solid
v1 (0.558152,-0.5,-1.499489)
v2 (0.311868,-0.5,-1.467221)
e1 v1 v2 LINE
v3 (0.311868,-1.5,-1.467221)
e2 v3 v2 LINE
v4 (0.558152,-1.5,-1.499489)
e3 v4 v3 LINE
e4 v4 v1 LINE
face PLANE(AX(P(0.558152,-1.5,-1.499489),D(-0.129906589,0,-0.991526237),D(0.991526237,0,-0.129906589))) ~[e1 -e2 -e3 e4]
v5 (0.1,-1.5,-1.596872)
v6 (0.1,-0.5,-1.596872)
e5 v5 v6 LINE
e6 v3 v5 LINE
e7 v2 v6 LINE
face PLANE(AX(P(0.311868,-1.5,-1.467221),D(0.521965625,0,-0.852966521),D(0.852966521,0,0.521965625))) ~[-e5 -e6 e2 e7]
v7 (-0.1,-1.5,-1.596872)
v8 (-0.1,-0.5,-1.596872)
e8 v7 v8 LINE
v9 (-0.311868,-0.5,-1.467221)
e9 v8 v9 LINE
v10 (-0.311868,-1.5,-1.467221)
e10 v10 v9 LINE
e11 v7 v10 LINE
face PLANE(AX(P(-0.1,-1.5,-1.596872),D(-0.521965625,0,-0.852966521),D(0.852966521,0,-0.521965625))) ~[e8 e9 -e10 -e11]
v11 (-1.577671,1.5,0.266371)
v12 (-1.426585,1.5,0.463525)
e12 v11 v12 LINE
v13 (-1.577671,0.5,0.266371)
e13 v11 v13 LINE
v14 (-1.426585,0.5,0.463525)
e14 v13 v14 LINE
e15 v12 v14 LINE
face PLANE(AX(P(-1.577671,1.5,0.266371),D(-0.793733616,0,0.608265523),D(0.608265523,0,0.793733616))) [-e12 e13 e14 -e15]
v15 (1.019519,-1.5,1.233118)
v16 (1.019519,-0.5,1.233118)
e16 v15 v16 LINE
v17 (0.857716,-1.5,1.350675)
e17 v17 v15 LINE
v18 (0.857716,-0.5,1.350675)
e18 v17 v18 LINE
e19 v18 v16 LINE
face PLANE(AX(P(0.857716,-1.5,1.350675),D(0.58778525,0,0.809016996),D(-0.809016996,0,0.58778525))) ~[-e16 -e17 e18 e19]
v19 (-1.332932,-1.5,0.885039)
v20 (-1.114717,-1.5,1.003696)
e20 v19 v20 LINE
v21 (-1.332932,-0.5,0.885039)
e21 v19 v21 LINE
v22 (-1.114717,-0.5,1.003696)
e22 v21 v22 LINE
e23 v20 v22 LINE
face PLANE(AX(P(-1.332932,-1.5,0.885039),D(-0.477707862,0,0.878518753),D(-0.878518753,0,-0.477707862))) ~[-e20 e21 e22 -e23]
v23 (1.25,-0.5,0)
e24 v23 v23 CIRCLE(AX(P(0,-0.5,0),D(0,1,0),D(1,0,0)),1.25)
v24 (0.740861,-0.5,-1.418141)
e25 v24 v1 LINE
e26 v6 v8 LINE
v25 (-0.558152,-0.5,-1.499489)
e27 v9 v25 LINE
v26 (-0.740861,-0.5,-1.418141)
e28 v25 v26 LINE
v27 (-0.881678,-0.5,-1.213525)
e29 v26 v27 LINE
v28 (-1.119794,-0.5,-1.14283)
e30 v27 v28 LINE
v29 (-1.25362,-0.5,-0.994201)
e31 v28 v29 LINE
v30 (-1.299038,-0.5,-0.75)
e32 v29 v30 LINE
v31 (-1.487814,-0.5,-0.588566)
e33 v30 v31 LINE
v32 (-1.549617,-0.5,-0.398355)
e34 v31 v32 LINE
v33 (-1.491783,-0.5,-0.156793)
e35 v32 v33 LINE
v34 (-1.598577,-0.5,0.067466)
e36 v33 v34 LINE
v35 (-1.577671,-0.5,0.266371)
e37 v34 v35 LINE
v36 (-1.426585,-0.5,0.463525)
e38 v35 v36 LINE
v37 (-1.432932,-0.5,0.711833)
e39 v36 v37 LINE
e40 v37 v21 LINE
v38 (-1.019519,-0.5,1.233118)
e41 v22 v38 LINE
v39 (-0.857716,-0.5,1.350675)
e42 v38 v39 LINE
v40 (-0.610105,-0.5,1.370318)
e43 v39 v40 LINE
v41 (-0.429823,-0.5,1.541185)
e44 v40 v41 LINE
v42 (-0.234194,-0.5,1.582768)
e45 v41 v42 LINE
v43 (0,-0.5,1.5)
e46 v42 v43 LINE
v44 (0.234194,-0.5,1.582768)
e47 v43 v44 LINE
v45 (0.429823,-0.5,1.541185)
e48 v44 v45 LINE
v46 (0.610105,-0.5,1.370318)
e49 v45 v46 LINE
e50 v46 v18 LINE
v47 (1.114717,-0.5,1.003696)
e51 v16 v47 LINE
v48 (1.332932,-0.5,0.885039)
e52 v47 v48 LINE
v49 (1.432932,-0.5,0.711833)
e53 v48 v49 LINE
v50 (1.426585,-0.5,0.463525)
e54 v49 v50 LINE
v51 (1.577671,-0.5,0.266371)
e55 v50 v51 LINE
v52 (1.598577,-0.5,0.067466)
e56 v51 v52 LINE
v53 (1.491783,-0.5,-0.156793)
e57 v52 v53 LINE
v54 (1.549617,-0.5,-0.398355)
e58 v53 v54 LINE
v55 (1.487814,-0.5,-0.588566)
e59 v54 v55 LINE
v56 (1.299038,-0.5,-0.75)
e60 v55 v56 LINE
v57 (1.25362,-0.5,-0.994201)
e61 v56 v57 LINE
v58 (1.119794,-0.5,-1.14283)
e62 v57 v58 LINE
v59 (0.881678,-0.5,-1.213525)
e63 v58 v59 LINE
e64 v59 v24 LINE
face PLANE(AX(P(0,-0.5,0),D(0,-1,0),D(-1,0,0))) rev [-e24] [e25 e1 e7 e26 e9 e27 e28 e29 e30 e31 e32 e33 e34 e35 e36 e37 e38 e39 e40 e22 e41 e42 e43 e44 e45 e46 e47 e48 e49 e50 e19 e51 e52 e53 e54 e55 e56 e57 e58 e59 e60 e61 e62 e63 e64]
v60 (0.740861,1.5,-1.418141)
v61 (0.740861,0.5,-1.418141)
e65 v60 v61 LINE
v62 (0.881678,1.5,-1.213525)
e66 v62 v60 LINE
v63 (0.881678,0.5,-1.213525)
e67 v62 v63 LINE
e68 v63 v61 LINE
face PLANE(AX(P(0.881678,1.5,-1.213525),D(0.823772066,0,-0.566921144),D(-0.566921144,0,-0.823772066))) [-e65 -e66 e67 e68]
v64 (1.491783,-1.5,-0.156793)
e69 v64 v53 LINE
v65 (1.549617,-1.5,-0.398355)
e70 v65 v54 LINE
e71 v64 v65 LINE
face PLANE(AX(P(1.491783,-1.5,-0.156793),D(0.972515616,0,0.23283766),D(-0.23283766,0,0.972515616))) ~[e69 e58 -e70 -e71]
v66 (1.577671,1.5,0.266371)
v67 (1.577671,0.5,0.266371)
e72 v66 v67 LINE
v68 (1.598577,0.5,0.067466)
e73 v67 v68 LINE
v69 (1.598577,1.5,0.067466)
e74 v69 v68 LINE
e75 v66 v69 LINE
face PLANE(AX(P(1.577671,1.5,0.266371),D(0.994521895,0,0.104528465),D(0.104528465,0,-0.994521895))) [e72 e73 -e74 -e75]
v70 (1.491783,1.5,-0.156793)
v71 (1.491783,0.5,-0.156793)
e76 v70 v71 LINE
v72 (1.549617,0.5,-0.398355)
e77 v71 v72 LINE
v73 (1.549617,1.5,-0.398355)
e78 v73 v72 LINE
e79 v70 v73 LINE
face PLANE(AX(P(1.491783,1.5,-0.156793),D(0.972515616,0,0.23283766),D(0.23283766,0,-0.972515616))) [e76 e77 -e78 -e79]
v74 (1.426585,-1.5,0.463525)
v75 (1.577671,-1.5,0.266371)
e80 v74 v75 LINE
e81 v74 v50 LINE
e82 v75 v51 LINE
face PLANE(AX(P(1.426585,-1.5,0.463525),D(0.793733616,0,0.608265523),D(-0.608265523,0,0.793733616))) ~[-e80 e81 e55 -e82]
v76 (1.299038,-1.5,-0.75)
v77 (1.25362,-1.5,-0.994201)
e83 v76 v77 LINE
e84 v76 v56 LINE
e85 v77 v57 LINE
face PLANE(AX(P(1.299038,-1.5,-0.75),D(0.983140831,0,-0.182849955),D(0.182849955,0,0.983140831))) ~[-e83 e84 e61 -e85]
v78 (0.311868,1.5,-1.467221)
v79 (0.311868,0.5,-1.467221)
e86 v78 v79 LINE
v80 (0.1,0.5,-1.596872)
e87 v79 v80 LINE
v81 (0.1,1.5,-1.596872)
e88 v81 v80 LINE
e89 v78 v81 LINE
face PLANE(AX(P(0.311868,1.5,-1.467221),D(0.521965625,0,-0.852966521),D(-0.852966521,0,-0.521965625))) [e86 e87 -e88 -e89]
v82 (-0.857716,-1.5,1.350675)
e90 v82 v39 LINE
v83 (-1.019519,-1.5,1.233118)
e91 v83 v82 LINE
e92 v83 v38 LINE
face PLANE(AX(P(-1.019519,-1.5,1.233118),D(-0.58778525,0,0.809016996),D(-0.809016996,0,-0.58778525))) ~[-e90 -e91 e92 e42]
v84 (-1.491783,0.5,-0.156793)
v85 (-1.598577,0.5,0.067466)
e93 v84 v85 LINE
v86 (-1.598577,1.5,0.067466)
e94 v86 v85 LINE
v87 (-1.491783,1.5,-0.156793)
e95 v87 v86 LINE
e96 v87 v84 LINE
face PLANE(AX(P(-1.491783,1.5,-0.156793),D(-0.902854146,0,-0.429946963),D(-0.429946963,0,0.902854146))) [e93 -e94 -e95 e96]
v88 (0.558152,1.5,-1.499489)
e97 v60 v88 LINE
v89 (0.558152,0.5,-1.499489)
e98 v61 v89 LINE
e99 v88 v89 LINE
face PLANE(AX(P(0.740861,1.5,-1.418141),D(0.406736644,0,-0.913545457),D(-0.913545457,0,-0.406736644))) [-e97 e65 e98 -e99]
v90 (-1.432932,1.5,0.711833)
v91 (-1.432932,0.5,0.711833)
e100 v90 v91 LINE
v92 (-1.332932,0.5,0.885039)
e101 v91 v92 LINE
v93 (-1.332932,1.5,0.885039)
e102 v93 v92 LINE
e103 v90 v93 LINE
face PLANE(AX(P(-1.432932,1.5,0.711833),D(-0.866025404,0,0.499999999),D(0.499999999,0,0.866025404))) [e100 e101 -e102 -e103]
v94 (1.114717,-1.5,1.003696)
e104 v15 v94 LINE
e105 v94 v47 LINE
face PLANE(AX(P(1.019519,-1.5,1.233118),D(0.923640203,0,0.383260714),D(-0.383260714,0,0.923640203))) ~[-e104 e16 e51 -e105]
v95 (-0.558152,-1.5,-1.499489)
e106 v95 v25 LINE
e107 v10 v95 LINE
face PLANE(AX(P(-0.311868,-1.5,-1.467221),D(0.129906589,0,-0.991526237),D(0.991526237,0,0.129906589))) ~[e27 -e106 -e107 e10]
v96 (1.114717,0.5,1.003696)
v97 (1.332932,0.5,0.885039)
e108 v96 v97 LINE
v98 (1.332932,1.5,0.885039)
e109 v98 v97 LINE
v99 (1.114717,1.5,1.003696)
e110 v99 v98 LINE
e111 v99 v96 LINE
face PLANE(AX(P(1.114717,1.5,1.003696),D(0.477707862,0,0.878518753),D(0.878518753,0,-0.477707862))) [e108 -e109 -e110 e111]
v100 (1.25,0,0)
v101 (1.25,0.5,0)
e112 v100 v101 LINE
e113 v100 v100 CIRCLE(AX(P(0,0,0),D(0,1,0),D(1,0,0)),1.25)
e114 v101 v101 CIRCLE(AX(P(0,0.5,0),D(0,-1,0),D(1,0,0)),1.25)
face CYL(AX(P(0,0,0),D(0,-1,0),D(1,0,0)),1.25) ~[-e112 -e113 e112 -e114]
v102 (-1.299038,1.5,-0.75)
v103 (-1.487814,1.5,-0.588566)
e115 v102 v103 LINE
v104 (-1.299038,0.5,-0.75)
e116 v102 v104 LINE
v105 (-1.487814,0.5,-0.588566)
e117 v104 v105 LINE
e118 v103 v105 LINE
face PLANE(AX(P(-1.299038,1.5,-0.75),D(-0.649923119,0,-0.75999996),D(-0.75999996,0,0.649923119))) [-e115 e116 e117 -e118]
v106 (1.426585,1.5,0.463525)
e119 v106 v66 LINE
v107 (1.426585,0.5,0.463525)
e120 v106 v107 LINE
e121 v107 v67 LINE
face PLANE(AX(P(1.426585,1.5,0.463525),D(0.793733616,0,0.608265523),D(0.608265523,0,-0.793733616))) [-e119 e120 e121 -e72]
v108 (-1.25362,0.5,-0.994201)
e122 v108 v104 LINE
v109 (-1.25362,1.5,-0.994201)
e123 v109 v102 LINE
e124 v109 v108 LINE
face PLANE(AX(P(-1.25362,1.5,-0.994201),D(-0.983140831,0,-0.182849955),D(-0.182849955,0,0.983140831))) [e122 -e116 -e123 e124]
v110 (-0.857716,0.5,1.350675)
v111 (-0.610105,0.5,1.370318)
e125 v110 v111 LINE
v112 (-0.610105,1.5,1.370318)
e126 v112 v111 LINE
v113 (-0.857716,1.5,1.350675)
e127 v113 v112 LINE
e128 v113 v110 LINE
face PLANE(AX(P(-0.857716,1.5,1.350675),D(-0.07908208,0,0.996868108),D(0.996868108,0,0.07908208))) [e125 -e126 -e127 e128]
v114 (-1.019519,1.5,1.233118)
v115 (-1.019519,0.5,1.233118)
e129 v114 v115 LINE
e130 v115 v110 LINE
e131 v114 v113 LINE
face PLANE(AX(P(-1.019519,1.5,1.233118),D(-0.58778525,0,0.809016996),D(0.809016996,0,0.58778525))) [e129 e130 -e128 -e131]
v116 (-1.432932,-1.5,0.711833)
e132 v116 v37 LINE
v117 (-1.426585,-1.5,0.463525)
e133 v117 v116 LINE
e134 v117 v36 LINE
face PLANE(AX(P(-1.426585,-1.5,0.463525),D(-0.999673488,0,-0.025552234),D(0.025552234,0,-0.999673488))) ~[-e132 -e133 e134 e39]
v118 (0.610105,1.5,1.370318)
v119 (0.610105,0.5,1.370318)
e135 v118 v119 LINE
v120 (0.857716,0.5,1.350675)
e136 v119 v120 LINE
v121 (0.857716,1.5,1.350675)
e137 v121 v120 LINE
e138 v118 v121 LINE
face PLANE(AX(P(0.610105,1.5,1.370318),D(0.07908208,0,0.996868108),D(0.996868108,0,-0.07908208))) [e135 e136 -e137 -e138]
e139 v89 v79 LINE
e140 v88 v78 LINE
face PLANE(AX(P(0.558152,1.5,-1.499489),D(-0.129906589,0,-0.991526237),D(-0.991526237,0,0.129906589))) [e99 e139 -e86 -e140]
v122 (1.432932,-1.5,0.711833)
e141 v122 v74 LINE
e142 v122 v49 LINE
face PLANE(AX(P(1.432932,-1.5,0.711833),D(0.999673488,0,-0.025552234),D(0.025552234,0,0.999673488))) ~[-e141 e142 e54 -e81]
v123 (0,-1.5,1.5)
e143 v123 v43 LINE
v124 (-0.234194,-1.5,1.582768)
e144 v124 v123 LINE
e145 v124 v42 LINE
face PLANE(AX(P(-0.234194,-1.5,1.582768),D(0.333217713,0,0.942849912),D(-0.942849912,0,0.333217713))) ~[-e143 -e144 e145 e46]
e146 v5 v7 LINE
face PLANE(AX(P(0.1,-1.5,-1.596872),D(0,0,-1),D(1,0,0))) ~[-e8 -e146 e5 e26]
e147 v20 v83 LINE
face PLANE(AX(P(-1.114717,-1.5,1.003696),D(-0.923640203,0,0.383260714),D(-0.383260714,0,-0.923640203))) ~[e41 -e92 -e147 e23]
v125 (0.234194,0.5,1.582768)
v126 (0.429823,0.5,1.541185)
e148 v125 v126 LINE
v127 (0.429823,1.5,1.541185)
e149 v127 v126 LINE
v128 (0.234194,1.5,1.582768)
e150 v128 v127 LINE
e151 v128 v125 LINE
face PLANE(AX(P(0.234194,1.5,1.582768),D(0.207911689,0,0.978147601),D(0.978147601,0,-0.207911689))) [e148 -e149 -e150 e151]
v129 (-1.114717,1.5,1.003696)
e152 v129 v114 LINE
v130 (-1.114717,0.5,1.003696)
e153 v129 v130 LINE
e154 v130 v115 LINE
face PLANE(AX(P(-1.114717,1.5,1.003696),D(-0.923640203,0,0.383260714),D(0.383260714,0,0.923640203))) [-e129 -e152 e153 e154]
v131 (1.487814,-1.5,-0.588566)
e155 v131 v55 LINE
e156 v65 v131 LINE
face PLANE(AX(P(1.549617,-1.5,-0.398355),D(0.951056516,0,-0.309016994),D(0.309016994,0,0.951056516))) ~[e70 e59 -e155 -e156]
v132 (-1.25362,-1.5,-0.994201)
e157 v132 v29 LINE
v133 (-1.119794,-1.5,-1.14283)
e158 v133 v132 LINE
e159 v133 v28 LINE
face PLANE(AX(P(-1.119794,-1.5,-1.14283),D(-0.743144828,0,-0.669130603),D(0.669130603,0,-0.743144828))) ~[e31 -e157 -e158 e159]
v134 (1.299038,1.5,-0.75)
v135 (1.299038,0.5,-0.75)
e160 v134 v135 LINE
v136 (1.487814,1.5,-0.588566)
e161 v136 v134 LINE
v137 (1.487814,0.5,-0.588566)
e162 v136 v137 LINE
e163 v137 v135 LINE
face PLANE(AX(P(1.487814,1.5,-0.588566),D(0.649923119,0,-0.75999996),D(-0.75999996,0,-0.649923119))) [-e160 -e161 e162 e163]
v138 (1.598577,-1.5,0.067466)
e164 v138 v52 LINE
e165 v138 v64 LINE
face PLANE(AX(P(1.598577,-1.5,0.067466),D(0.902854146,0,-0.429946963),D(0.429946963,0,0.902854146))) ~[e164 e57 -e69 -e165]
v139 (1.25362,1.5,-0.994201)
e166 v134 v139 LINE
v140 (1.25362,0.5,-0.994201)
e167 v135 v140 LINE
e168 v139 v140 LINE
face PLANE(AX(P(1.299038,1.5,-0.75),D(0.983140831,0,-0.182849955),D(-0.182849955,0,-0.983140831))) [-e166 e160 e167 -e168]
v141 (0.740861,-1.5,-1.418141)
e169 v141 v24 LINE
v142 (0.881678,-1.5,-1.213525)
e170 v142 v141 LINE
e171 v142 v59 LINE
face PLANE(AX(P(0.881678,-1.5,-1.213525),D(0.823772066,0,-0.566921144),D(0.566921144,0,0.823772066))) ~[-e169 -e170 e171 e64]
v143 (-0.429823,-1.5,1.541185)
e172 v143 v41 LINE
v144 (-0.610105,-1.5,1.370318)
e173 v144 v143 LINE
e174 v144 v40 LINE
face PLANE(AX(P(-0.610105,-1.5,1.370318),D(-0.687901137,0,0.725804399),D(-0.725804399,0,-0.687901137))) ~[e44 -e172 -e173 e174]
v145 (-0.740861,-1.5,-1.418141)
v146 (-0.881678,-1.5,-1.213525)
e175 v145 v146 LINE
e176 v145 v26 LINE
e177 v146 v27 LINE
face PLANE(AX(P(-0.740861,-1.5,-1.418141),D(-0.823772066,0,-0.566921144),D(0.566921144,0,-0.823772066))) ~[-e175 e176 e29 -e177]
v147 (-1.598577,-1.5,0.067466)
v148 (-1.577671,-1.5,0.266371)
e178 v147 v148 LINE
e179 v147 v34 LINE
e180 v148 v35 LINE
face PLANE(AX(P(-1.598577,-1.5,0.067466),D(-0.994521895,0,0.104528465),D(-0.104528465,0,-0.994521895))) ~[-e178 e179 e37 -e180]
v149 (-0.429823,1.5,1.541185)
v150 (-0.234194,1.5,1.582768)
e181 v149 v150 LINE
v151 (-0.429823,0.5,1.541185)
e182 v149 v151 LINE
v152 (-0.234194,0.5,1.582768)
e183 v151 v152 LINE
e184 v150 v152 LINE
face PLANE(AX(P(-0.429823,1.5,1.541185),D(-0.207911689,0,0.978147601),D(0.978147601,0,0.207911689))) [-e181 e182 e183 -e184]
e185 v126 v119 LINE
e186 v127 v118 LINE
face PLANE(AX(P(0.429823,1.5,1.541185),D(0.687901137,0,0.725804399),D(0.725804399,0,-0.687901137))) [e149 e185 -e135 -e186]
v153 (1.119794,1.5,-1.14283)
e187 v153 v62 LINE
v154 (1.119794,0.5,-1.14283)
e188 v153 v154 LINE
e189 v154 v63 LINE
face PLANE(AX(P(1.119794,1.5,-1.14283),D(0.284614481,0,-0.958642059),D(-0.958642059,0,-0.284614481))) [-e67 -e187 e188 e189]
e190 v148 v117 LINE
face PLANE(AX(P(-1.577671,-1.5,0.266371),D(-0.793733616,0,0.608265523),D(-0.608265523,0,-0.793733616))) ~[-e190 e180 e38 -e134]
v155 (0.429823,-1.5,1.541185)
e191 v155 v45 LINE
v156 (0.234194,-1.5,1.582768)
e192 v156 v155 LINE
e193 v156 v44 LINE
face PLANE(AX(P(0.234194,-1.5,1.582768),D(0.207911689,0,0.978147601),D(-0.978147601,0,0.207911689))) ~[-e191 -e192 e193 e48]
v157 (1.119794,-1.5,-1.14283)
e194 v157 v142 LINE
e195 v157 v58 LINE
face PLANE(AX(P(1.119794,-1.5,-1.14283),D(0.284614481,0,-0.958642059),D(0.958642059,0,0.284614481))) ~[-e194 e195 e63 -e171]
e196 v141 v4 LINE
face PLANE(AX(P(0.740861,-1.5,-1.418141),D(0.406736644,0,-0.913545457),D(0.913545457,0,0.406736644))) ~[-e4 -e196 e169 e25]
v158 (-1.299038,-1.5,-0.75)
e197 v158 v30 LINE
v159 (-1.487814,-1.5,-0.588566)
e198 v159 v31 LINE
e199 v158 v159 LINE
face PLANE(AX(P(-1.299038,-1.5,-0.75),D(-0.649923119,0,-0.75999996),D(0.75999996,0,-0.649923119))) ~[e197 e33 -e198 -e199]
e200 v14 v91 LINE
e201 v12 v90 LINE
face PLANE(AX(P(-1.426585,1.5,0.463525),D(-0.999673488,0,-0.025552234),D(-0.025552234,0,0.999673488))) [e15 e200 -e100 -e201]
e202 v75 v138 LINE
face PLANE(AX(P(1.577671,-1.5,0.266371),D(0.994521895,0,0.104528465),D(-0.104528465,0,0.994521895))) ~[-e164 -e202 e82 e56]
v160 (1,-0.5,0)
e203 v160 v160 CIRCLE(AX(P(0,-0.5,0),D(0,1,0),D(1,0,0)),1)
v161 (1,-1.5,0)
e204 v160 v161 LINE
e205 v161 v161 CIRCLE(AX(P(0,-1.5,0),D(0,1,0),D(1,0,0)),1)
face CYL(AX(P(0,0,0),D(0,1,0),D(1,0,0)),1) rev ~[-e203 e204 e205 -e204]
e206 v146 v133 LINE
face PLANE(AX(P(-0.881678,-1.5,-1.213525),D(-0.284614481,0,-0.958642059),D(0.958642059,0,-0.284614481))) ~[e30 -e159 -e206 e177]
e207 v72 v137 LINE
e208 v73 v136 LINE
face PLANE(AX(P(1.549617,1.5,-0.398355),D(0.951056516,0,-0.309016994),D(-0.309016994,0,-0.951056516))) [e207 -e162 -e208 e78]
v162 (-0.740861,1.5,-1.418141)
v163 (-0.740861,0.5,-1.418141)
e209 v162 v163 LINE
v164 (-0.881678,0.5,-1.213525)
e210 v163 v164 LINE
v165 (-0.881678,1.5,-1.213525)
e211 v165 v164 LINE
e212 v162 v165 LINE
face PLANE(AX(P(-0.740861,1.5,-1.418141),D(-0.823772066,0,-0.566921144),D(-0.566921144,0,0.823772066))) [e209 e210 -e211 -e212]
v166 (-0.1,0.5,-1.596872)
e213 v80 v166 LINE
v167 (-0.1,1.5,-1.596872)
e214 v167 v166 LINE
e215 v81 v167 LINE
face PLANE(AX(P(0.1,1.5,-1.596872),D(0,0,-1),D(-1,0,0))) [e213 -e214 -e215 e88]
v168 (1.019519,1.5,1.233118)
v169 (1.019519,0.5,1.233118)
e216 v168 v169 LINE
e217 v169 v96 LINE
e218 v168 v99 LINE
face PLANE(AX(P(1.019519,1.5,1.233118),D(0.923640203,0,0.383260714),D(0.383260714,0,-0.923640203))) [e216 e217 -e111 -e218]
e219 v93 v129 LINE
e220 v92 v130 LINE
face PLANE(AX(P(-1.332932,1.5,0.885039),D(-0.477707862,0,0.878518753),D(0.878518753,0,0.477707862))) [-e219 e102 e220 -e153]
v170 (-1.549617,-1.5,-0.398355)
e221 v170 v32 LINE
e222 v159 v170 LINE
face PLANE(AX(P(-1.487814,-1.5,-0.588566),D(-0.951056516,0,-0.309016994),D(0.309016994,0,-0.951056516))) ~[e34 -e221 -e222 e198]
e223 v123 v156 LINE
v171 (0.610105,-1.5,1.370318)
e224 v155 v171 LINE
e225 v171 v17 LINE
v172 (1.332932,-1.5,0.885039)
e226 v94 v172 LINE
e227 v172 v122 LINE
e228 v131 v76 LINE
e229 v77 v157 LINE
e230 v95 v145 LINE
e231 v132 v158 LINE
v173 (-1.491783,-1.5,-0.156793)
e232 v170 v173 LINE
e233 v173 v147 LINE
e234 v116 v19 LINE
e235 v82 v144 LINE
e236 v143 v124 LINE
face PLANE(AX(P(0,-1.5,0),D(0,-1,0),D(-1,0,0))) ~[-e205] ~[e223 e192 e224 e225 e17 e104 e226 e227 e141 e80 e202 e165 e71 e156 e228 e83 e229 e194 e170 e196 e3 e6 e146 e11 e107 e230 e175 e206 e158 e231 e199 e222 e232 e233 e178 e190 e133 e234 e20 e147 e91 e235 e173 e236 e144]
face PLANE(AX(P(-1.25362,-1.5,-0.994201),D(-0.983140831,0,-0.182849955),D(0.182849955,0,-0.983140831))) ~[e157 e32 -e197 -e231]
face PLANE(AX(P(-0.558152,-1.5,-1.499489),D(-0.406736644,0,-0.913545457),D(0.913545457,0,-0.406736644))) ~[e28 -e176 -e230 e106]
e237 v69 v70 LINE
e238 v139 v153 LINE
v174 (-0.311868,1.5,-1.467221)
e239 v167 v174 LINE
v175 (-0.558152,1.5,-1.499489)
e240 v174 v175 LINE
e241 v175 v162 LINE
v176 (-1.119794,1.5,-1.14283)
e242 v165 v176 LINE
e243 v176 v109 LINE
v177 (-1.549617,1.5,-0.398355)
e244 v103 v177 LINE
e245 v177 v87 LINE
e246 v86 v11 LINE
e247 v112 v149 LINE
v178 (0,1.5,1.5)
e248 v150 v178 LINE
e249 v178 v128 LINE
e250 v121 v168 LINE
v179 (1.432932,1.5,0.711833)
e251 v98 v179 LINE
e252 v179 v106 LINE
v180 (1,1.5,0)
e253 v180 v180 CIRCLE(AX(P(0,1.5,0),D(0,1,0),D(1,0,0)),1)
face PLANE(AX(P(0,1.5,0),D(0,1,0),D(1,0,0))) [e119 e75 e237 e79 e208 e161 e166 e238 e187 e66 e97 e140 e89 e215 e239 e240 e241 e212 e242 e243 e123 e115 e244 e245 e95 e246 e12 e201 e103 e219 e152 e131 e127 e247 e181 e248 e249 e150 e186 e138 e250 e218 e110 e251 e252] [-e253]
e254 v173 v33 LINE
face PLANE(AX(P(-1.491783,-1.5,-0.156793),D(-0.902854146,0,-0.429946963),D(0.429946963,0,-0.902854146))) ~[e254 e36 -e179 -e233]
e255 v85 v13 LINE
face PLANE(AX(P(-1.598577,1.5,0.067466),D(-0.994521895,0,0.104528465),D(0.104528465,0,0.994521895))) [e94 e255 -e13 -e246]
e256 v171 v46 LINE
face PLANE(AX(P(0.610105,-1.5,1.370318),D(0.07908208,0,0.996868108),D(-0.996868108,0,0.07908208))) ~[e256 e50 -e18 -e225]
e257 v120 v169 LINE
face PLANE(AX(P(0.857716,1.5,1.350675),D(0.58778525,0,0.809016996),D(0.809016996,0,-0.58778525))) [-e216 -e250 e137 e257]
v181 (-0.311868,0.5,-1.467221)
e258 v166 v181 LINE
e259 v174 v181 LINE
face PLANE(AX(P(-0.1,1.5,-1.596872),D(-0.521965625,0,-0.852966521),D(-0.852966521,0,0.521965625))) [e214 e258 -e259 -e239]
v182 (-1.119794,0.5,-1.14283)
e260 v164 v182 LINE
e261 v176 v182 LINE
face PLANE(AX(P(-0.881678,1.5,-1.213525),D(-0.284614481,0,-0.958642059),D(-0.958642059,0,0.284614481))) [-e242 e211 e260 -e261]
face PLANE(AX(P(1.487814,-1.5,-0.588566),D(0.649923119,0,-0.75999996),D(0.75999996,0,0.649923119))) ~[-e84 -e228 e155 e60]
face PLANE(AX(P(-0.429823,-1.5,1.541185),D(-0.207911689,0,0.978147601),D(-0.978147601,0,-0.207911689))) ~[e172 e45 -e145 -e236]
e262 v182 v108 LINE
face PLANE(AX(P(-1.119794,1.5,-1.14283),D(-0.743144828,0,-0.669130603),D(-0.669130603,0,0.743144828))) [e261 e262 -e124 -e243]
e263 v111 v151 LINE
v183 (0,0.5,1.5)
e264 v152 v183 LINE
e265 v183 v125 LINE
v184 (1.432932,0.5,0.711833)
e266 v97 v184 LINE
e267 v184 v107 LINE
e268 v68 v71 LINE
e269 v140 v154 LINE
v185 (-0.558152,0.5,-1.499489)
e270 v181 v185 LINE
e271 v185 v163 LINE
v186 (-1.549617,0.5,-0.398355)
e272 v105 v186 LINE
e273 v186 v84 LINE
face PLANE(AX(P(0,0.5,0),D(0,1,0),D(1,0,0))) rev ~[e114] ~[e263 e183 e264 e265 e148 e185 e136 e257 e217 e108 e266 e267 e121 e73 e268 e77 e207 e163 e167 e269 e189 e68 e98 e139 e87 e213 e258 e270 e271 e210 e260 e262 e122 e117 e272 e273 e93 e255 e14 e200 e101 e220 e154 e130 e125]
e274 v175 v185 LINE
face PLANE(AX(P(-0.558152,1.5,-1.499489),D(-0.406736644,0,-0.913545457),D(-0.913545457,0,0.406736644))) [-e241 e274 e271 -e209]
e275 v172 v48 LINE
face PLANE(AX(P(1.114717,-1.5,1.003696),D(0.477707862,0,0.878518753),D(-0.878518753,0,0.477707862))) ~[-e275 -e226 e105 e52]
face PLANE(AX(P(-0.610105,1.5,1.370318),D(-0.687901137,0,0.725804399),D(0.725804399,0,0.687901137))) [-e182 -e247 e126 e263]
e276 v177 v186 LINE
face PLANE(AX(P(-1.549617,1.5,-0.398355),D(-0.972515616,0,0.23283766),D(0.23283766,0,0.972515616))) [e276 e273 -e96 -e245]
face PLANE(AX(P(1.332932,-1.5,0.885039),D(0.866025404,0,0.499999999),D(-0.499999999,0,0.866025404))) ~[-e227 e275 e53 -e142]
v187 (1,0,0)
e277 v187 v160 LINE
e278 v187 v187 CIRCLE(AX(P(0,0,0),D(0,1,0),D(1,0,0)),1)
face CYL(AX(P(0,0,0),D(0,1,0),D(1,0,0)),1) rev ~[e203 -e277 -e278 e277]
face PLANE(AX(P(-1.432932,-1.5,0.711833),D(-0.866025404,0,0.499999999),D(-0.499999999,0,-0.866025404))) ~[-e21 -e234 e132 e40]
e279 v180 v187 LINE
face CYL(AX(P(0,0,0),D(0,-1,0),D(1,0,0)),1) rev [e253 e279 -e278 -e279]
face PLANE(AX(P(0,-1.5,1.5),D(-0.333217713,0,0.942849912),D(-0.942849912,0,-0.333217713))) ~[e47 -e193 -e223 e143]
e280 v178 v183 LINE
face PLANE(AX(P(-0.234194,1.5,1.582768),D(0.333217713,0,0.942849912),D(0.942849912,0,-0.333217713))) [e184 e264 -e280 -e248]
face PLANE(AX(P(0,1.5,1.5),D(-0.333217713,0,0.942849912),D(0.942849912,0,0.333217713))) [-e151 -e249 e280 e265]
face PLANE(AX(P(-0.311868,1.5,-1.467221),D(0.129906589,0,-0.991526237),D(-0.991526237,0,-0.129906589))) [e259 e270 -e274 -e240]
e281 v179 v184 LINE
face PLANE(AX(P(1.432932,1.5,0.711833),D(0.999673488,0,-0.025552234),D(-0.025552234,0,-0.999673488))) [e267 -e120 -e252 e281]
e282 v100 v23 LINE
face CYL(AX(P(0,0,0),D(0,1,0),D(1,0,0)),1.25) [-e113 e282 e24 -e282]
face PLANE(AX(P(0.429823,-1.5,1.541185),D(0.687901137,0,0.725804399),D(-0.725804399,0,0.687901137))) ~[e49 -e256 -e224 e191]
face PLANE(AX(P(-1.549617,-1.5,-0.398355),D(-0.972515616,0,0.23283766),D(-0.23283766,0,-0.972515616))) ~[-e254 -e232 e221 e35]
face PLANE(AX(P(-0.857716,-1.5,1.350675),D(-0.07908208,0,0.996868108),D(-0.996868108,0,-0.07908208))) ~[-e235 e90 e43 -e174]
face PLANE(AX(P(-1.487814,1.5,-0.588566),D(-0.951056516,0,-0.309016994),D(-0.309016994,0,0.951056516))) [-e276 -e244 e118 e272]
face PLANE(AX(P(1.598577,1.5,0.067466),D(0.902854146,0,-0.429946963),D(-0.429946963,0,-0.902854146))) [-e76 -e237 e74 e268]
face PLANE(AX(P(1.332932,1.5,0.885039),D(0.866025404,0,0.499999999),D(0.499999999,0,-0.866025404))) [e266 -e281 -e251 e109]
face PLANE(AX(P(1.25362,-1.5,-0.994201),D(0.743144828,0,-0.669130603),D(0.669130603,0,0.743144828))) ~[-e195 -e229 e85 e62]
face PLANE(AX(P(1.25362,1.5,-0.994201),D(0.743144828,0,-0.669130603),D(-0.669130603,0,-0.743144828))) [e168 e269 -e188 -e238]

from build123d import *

# Parameters (mm, degrees)
SKETCH1_R           = 1.25
SKETCH1_R_2         = 1
BOSS_EXTRUDE1_DEPTH = 1.5
SKETCH2_R           = 1
BOSS_EXTRUDE2_DEPTH = 1


with BuildPart() as part:
    # Sketch1 → Boss-Extrude1 (new body)
    with BuildSketch(Plane(origin=(0, 0, 0), x_dir=(1, 0, 0), z_dir=(0, 1, 0))):
        Circle(SKETCH1_R)
        Circle(SKETCH1_R_2, mode=Mode.SUBTRACT)
    boss_extrude1 = extrude(amount=BOSS_EXTRUDE1_DEPTH)

    # Sketch2 → Boss-Extrude2 (add)
    with BuildSketch(Plane(origin=(0, 1.5, 0), x_dir=(1, 0, 0), z_dir=(0, 1, 0))):
        Polygon((-0.740860879, 1.418141445), (-0.881677878, 1.213525492), (-1.11979406, 1.142830374), (-1.253620181, 0.994201408), (-1.299038106, 0.75), (-1.487813767, 0.58856622), (-1.549617166, 0.398354916), (-1.491782843, 0.156792695), (-1.598576957, -0.067466381), (-1.577671264, -0.26637076), (-1.426584774, -0.463525492), (-1.432931669, -0.711833431), (-1.332931669, -0.885038512), (-1.114717238, -1.00369591), (-1.019519477, -1.233118014), (-0.857716078, -1.350675064), (-0.610104965, -1.370318186), (-0.429823106, -1.54118529), (-0.234193585, -1.582767628), (0, -1.5), (0.234193585, -1.582767628), (0.429823106, -1.54118529), (0.610104965, -1.370318186), (0.857716078, -1.350675064), (1.019519477, -1.233118014), (1.114717238, -1.00369591), (1.332931669, -0.885038512), (1.432931669, -0.711833431), (1.426584774, -0.463525492), (1.577671264, -0.26637076), (1.598576957, -0.067466381), (1.491782843, 0.156792695), (1.549617166, 0.398354916), (1.487813767, 0.58856622), (1.299038106, 0.75), (1.253620181, 0.994201408), (1.11979406, 1.142830374), (0.881677878, 1.213525492), (0.740860879, 1.418141445), (0.558151787, 1.499488774), (0.311867536, 1.467221401), (0.1, 1.596871942), (-0.1, 1.596871942), (-0.311867536, 1.467221401), (-0.558151787, 1.499488774), align=None)
        Circle(SKETCH2_R, mode=Mode.SUBTRACT)
    boss_extrude2 = extrude(amount=-BOSS_EXTRUDE2_DEPTH)

    # Mirror1: Boss-Extrude1, Boss-Extrude2 across plane
    add(boss_extrude1.mirror(Plane.ZX))
    add(boss_extrude2.mirror(Plane.ZX))


solid = part.part
